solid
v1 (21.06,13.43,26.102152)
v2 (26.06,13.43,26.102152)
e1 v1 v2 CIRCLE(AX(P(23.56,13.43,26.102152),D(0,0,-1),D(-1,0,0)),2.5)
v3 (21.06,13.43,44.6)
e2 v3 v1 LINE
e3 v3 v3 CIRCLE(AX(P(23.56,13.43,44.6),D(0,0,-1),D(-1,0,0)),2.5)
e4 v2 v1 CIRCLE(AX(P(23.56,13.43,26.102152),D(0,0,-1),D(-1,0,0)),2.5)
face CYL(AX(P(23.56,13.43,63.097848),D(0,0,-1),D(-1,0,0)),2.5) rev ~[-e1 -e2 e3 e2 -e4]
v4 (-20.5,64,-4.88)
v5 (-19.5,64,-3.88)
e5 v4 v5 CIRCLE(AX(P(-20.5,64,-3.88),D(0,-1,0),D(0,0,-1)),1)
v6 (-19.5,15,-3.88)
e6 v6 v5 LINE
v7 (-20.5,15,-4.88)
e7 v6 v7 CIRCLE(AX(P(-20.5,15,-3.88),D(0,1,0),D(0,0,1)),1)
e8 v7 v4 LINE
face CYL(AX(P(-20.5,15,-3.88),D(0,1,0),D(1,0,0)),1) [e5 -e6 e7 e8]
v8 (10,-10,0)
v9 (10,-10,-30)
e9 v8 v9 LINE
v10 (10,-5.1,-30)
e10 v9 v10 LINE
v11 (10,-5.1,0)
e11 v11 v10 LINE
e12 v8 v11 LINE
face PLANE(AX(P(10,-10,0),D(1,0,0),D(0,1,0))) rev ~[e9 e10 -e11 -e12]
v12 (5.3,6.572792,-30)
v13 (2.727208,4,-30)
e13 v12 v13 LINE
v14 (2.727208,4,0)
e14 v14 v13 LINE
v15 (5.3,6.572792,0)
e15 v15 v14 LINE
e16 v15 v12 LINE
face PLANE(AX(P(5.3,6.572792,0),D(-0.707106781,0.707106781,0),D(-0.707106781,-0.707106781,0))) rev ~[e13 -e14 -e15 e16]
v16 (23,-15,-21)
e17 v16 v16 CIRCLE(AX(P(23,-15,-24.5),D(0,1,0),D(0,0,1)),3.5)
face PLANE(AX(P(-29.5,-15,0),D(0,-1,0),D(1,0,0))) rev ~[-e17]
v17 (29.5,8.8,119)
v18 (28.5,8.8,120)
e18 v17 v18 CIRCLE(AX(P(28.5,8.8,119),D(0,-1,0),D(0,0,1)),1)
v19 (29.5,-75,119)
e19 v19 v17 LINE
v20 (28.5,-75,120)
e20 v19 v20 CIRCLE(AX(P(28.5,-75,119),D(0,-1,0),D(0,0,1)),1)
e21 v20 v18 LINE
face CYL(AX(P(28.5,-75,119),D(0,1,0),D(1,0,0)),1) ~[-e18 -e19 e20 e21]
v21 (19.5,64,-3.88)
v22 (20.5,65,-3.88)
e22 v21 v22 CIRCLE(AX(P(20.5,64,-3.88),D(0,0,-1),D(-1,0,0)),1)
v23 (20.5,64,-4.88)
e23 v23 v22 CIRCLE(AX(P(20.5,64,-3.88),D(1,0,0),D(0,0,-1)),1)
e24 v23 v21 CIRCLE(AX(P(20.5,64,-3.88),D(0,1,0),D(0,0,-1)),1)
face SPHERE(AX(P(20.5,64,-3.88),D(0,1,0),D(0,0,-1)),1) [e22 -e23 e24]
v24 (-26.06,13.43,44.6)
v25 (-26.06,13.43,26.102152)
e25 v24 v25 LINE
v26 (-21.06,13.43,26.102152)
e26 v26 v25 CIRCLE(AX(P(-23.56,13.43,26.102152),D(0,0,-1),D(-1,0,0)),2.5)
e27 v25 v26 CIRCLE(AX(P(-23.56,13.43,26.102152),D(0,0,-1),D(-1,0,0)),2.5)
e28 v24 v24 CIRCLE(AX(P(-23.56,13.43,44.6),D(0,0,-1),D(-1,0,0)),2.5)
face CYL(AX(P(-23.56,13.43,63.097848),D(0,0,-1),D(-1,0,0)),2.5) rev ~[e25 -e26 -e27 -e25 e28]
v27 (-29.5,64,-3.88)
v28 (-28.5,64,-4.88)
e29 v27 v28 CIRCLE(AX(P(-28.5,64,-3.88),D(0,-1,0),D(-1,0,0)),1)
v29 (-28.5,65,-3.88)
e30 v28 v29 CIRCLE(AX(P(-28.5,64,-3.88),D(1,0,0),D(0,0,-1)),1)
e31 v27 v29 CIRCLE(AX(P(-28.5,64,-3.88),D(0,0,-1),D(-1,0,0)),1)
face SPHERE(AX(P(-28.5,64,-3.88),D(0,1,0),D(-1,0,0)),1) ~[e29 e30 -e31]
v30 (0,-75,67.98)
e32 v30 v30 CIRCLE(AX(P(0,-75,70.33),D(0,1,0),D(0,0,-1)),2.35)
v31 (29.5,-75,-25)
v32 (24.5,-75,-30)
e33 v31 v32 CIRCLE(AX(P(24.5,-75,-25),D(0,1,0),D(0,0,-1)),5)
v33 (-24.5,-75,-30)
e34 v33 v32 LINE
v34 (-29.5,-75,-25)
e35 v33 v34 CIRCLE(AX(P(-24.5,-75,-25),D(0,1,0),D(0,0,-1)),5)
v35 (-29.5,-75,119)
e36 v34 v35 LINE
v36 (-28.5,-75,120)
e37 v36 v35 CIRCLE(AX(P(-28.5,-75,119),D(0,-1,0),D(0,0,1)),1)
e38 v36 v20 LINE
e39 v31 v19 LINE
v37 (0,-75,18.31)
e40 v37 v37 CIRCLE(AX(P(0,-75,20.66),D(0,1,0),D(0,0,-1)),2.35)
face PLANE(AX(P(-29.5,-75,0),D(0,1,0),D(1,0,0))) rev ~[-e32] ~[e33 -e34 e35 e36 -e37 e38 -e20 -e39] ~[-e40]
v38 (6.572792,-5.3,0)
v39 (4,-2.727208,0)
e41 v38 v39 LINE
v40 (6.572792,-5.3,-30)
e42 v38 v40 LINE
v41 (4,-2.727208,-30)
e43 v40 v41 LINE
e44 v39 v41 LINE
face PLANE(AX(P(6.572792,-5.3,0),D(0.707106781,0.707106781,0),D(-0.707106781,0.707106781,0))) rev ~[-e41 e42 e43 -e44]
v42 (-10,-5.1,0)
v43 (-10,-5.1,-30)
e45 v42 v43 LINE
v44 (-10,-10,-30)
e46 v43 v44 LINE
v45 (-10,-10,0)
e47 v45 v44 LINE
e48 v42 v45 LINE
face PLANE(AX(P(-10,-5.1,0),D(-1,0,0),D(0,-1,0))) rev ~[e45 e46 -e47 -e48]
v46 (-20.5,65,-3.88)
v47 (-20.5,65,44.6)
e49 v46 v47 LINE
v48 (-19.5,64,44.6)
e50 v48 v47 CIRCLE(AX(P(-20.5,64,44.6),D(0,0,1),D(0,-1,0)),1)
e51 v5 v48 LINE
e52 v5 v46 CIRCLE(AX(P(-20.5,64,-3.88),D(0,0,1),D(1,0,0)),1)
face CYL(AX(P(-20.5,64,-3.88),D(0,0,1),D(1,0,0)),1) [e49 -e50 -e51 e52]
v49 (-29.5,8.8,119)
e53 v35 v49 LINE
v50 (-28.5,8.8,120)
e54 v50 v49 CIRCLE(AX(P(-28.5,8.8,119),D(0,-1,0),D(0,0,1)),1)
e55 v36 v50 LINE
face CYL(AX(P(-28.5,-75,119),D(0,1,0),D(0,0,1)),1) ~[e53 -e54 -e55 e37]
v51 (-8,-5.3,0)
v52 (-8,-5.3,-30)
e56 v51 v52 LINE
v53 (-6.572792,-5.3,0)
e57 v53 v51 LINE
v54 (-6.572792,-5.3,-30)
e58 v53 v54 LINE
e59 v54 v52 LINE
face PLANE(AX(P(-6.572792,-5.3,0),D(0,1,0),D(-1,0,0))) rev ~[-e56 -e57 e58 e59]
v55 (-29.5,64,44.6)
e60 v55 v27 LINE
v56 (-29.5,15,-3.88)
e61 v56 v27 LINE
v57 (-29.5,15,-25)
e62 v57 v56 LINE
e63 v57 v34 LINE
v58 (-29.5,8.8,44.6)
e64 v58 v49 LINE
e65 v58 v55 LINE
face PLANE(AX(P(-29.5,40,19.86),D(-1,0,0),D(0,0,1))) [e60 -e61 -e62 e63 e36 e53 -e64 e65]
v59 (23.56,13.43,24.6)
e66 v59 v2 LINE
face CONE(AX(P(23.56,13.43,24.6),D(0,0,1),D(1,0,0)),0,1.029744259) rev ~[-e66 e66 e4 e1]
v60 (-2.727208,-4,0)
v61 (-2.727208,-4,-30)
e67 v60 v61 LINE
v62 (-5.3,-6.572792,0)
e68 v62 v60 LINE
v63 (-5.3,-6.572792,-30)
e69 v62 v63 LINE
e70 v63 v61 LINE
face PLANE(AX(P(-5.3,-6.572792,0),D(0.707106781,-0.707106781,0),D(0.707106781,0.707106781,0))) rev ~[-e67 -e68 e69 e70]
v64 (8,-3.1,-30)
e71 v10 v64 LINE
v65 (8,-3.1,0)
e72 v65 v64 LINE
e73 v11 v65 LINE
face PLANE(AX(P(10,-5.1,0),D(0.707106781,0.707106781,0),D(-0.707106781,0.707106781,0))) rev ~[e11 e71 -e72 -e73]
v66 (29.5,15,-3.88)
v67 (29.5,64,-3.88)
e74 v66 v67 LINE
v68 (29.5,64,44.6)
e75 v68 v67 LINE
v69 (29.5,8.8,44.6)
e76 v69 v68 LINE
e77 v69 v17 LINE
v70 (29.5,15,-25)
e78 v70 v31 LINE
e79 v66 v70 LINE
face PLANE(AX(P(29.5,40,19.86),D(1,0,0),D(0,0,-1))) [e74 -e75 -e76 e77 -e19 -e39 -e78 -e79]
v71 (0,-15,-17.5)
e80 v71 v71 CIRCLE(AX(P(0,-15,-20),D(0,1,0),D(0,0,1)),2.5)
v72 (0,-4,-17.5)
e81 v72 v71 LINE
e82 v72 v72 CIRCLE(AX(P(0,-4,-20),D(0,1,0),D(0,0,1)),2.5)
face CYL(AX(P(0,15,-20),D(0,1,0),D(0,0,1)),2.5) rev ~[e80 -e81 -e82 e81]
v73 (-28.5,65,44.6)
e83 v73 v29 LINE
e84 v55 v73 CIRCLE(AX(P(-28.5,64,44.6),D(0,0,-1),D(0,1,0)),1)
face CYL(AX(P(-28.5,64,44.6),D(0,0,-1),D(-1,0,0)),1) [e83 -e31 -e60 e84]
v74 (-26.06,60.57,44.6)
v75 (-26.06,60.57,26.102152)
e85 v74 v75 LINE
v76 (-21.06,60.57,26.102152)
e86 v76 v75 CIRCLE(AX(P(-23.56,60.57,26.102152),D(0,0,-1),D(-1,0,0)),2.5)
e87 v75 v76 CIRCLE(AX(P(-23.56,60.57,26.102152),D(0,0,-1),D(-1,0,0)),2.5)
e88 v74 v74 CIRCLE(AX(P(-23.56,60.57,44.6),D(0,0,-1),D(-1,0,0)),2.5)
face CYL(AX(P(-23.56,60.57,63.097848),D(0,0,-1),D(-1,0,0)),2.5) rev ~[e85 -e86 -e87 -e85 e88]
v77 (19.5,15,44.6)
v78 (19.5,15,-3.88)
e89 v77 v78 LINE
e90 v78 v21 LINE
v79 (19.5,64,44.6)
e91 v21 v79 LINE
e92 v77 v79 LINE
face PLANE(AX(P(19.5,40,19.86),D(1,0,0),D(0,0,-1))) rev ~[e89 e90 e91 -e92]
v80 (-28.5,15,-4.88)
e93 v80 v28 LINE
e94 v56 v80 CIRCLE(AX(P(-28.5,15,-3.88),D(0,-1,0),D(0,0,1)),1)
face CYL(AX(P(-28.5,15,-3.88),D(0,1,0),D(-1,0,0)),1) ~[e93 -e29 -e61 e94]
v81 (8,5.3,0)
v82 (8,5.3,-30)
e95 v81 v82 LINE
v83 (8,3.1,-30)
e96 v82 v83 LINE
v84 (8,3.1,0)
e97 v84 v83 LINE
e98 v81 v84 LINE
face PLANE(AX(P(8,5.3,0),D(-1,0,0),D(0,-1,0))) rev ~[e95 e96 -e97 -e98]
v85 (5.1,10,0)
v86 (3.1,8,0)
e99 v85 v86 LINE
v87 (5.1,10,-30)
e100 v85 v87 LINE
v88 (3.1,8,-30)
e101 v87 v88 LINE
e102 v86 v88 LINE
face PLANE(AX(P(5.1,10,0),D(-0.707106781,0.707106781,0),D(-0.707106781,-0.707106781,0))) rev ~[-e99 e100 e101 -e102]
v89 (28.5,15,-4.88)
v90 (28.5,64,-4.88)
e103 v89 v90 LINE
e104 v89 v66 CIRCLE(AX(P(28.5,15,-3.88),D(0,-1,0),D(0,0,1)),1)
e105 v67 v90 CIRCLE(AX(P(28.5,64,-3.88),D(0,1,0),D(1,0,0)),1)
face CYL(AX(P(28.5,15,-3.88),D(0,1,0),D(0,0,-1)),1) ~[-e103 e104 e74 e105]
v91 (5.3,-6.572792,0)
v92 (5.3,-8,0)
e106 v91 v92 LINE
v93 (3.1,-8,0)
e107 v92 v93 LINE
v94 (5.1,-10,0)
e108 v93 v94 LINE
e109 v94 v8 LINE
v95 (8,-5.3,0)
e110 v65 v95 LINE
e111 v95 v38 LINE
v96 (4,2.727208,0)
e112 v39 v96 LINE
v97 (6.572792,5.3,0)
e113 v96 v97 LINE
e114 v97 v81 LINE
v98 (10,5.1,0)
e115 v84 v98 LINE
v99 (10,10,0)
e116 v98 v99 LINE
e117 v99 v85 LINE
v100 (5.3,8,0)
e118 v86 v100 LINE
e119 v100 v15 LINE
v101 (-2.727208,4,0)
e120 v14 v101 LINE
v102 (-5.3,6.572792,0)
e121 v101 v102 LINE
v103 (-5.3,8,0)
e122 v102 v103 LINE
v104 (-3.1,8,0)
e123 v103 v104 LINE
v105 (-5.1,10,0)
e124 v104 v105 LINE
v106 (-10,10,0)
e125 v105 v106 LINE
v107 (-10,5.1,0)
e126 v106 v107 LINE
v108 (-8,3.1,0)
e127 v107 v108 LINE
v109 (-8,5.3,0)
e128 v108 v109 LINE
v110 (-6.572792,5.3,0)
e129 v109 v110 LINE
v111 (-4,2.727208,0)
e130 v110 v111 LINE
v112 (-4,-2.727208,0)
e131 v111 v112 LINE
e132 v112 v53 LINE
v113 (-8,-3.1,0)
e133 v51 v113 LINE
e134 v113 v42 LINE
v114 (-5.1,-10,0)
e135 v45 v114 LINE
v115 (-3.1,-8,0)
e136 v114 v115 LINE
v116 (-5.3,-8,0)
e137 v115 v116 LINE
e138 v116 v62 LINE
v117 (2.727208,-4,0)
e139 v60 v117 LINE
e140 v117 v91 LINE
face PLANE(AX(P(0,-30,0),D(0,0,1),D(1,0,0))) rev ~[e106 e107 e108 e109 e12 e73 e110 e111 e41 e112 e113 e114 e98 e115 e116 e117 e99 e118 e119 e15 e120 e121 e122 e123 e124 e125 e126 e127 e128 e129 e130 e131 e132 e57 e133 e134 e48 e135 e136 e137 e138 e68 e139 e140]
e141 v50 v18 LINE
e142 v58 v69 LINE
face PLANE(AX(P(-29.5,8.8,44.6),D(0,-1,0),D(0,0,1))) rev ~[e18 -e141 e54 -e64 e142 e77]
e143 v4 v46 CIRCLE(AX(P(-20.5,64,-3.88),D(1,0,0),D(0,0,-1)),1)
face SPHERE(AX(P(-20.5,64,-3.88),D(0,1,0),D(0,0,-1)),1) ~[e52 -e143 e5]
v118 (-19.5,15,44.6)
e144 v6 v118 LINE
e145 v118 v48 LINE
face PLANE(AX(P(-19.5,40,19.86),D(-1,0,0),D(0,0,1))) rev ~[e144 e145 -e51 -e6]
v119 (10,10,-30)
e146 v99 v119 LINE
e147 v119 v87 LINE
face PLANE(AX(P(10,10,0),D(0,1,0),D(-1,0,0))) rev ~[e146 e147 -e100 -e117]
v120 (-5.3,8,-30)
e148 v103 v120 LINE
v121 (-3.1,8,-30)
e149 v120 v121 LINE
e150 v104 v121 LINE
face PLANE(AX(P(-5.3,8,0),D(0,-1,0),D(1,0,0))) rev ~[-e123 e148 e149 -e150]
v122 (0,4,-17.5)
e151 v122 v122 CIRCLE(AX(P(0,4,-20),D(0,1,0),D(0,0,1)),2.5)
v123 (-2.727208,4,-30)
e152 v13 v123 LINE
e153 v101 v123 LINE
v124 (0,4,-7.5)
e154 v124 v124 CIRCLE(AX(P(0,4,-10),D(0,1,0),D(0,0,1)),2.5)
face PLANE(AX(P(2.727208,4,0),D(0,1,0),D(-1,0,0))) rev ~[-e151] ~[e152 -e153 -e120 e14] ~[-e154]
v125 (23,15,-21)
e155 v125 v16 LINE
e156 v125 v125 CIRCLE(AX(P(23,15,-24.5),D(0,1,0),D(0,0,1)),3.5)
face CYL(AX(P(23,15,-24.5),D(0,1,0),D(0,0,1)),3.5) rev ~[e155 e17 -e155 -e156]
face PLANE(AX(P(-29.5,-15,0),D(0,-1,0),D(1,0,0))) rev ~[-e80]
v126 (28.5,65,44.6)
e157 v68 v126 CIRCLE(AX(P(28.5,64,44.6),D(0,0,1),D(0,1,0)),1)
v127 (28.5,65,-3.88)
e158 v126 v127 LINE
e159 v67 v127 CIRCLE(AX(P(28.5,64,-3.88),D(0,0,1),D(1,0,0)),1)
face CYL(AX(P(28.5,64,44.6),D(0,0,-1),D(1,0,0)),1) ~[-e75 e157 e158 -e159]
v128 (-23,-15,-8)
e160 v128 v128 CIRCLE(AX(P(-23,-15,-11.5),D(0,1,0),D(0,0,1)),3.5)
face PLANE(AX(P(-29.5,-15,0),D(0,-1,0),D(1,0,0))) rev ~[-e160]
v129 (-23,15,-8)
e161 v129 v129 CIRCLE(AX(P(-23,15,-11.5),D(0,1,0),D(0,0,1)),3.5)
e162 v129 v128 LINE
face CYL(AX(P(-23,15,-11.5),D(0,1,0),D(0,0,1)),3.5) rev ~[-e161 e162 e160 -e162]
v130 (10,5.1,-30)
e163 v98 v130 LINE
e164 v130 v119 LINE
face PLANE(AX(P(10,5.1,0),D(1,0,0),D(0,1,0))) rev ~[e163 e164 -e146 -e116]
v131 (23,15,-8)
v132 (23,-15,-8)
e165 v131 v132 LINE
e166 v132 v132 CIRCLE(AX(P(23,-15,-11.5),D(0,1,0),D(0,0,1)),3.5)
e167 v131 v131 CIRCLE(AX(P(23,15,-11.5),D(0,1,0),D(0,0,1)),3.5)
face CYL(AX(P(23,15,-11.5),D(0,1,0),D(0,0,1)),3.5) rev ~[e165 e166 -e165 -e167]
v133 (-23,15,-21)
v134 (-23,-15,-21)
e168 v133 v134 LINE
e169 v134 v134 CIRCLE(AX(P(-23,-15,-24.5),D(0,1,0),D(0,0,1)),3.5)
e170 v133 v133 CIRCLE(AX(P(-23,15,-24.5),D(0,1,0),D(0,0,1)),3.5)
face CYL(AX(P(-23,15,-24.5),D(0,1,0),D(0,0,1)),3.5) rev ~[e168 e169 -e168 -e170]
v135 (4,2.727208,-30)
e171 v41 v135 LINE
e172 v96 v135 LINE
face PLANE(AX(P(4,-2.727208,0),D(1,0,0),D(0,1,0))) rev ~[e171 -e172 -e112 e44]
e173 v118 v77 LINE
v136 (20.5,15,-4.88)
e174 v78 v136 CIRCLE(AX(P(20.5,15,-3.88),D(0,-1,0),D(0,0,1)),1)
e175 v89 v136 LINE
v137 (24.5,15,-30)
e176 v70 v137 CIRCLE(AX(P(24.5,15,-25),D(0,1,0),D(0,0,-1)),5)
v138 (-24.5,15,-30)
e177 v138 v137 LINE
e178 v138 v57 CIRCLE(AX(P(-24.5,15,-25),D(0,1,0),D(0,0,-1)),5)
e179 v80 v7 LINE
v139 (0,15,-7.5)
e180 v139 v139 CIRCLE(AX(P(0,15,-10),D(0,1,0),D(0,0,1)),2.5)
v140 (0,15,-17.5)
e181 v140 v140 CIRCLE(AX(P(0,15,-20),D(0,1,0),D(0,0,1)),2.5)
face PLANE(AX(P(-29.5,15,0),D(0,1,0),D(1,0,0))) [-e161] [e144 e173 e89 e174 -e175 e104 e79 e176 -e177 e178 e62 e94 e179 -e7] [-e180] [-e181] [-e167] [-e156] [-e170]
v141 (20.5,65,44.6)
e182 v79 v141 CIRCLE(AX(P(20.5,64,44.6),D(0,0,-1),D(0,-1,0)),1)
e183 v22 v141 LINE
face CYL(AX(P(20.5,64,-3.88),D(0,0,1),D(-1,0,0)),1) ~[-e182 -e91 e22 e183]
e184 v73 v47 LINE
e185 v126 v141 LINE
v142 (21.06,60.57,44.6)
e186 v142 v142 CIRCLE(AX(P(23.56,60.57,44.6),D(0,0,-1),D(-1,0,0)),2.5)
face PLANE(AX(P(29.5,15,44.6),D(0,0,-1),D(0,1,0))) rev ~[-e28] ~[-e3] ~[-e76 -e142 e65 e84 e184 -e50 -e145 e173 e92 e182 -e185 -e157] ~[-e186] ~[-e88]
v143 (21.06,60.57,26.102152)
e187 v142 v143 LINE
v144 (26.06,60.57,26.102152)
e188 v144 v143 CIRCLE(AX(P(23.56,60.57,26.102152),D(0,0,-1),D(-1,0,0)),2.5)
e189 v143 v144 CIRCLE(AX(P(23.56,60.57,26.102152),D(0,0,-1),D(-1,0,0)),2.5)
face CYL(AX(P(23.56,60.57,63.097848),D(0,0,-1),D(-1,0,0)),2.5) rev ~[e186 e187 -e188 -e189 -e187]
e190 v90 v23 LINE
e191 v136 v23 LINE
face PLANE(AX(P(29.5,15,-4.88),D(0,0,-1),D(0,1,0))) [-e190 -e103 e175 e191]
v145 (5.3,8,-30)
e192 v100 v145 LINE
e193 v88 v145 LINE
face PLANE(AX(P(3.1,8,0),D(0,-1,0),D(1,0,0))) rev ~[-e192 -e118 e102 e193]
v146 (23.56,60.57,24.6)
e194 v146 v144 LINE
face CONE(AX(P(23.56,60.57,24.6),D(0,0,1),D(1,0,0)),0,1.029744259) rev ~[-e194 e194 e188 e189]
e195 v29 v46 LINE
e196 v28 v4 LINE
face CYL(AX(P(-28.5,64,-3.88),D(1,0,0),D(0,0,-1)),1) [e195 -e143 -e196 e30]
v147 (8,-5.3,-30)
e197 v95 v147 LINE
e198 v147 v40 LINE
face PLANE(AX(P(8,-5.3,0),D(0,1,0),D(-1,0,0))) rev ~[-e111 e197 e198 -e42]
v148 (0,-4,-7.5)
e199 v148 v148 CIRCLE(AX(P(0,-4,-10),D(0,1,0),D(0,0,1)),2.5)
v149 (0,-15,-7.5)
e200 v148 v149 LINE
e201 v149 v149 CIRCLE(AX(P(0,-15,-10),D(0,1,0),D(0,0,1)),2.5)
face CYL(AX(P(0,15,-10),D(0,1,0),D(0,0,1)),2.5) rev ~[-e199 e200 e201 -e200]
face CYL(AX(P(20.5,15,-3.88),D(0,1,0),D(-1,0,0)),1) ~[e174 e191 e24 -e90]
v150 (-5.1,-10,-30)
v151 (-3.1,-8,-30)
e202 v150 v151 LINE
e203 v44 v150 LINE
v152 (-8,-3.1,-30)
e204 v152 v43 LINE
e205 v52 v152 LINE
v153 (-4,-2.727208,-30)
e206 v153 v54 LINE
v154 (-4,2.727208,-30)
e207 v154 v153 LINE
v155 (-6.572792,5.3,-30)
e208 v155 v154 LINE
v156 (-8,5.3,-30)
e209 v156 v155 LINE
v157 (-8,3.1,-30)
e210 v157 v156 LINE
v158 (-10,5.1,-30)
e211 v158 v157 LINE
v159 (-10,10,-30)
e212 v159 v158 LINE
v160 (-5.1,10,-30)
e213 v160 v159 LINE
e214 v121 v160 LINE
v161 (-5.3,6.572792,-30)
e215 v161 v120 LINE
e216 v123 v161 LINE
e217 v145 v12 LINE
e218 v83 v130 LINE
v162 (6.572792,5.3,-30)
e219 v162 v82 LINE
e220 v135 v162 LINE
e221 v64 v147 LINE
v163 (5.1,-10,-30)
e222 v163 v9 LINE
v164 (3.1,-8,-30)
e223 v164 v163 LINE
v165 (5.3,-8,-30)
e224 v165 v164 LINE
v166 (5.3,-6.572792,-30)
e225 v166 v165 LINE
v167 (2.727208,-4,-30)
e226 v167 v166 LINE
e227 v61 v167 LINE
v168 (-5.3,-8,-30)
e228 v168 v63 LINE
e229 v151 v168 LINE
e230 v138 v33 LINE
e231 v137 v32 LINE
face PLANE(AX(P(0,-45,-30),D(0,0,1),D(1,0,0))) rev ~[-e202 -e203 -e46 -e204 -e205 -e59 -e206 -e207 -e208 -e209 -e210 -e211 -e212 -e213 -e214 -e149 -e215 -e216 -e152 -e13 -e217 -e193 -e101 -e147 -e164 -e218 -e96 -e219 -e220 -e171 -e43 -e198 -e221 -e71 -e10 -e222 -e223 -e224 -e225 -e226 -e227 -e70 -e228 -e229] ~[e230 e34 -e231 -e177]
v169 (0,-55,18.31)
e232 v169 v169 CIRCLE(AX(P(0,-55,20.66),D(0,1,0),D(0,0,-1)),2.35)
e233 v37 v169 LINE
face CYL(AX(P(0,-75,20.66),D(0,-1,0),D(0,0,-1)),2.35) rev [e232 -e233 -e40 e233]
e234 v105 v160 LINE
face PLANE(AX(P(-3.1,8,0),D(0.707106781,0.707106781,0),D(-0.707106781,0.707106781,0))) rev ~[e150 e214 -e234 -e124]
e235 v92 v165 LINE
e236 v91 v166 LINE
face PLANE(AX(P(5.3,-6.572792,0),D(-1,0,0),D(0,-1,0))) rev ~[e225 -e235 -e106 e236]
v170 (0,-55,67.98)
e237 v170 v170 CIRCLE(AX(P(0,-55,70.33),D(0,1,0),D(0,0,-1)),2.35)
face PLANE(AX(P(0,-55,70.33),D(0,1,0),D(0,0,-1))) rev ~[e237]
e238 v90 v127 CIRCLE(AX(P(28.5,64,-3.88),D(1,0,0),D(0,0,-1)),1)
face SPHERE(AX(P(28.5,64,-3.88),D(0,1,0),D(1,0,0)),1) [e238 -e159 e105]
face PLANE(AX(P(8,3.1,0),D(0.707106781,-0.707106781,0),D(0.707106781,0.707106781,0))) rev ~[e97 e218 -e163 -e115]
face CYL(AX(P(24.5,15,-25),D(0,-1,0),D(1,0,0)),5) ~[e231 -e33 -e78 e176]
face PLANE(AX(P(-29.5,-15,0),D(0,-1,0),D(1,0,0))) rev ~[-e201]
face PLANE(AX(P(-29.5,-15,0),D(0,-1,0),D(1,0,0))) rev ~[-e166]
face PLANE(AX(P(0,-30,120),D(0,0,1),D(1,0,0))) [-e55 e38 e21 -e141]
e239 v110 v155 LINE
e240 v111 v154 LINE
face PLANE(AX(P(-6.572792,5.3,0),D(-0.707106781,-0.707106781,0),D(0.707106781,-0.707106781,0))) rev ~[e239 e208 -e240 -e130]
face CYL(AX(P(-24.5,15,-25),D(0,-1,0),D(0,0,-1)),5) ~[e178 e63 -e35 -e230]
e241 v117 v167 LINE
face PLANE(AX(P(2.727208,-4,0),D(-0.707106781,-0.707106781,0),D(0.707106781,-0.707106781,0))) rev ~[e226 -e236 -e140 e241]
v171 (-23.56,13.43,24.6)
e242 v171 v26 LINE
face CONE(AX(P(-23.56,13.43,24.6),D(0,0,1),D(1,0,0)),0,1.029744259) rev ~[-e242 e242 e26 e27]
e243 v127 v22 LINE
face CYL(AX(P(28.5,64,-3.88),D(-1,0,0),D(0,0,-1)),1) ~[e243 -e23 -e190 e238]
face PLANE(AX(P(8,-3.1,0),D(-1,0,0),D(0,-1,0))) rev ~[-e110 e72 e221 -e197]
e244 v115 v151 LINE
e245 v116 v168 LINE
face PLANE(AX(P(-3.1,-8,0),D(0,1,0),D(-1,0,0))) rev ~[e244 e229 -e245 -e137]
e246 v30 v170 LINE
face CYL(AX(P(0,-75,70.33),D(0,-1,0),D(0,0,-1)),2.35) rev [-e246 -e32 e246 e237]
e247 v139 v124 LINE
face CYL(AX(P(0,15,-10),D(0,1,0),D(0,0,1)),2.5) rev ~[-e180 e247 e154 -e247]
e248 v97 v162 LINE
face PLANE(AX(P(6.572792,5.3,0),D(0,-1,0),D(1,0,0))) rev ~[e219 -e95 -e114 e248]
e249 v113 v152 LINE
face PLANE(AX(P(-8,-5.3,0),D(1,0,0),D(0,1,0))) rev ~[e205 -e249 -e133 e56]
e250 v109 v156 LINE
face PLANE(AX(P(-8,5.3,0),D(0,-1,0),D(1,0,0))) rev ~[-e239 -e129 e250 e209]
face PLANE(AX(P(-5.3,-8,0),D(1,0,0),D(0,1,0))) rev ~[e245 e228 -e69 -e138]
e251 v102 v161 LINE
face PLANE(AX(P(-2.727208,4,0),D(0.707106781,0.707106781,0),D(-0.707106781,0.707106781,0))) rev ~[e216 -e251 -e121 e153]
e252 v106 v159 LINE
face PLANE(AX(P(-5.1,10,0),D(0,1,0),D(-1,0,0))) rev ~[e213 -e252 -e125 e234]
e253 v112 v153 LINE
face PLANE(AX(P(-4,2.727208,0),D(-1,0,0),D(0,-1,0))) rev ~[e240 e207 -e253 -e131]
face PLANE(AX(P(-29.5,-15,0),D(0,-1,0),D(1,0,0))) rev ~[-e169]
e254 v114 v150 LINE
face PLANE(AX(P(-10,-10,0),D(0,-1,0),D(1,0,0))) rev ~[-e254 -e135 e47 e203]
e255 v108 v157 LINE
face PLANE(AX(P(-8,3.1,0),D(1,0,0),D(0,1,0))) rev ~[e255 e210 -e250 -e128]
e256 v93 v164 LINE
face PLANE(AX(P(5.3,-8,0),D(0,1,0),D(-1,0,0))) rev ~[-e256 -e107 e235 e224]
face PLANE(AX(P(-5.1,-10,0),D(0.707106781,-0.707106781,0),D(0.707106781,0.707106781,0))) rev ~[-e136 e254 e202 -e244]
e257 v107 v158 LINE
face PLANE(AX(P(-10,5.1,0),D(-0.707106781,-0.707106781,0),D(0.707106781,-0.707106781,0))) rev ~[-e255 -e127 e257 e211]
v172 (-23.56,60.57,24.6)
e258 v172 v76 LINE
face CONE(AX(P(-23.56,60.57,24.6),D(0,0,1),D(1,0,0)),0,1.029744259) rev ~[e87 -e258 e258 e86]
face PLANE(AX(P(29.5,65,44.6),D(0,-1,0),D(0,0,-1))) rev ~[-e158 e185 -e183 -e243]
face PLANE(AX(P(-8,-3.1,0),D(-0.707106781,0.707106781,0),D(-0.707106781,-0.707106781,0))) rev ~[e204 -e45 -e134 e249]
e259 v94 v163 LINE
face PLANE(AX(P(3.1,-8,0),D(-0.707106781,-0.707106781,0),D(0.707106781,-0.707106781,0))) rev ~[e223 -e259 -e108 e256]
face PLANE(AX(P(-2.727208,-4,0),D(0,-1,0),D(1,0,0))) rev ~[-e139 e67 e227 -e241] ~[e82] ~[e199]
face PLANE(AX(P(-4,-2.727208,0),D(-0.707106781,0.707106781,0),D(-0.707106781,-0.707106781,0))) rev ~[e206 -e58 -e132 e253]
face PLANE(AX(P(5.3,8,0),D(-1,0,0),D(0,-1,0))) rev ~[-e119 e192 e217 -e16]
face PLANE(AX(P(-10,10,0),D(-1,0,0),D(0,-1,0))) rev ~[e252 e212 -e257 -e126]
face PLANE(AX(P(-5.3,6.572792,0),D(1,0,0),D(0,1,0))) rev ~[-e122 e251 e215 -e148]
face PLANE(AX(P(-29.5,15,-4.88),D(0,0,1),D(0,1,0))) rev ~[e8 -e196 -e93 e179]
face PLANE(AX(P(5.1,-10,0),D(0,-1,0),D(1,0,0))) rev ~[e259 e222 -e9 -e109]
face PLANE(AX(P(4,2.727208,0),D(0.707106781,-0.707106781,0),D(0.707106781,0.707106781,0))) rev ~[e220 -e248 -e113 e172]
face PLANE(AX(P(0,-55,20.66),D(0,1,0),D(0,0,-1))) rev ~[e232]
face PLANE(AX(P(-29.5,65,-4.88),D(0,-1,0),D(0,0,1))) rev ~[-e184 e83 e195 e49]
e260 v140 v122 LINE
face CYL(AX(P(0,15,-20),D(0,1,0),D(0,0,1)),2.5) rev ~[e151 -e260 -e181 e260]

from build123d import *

# Parameters (mm, degrees)
SKETCH1_W                    = 59
SKETCH1_H                    = 30
BOSS_EXTRUDE1_DEPTH          = 30
SKETCH2_R                    = 2.5
SKETCH2_R_2                  = 3.5
CUT_EXTRUDE1_DEPTH           = 52.674461778
SKETCH3_W                    = 59
SKETCH3_H                    = 60
BOSS_EXTRUDE2_DEPTH          = 30
FILLET2_R                    = 5
FILLET3_R                    = 5
SKETCH5_W                    = 59
SKETCH5_H                    = 90
BOSS_EXTRUDE3_DEPTH          = 120
SKETCH6_W                    = 75.4
SKETCH6_H                    = 6.2
CUT_EXTRUDE2_DEPTH           = 120
SKETCH6_3_W                  = 49.48
SKETCH6_3_H                  = 50
BOSS_EXTRUDE4_DEPTH          = 10
F_5_0_5_DIAMETER_HOLE1_D     = 5
F_5_0_5_DIAMETER_HOLE1_DEPTH = 18.497848452
F_5_0_5_DIAMETER_HOLE1_TIP   = 1.502151548
SKETCH14_W                   = 49.48
SKETCH14_H                   = 50
BOSS_EXTRUDE6_DEPTH          = 10
F_5_0_5_DIAMETER_HOLE2_D     = 5
F_5_0_5_DIAMETER_HOLE2_DEPTH = 18.497848452
F_5_0_5_DIAMETER_HOLE2_TIP   = 1.502151548
FILLET4_R                    = 1
FILLET5_R                    = 1
FILLET6_R                    = 1
FILLET7_R                    = 1
FILLET8_R                    = 1
FILLET9_R                    = 1
FILLET10_R                   = 1
FILLET11_R                   = 1
F_5_0_5_DIAMETER_HOLE3_D     = 5
F_5_0_5_DIAMETER_HOLE3_DEPTH = 18.497848452
F_5_0_5_DIAMETER_HOLE3_TIP   = 1.502151548
CUT_EXTRUDE3_START           = -75
SKETCH21_R                   = 2.35
CUT_EXTRUDE3_DEPTH           = 20


with BuildPart() as part:
    # Sketch1 → Boss-Extrude1 (new body)
    with BuildSketch(Plane.XY):
        Rectangle(SKETCH1_W, SKETCH1_H)
        Polygon((4, 2.727207794), (6.572792206, 5.3), (8, 5.3), (8, 3.1), (10, 5.1), (10, 10), (5.1, 10), (3.1, 8), (5.3, 8), (5.3, 6.572792206), (2.727207794, 4), (-2.727207794, 4), (-5.3, 6.572792206), (-5.3, 8), (-3.1, 8), (-5.1, 10), (-10, 10), (-10, 5.1), (-8, 3.1), (-8, 5.3), (-6.572792206, 5.3), (-4, 2.727207794), (-4, -2.727207794), (-6.572792206, -5.3), (-8, -5.3), (-8, -3.1), (-10, -5.1), (-10, -10), (-5.1, -10), (-3.1, -8), (-5.3, -8), (-5.3, -6.572792206), (-2.727207794, -4), (2.727207794, -4), (5.3, -6.572792206), (5.3, -8), (3.1, -8), (5.1, -10), (10, -10), (10, -5.1), (8, -3.1), (8, -5.3), (6.572792206, -5.3), (4, -2.727207794), align=None, mode=Mode.SUBTRACT)
    extrude(amount=-BOSS_EXTRUDE1_DEPTH)

    # Sketch2 → Cut-Extrude1 (cut, through all)
    with BuildSketch(Plane(origin=(0, 15, 0), x_dir=(1, 0, 0), z_dir=(0, 1, 0))):
        with Locations(Location((0, 10, 0), (0, 0, 270))):
            Circle(SKETCH2_R)
        with Locations(Location((0, 20, 0), (0, 0, 270))):
            Circle(SKETCH2_R)
        with Locations(Location((-23, 24.5, 0), (0, 0, 270))):
            Circle(SKETCH2_R_2)
        with Locations(Location((23, 24.5, 0), (0, 0, 270))):
            Circle(SKETCH2_R_2)
        with Locations(Location((23, 11.5, 0), (0, 0, 270))):
            Circle(SKETCH2_R_2)
        with Locations(Location((-23, 11.5, 0), (0, 0, 270))):
            Circle(SKETCH2_R_2)
    extrude(amount=-CUT_EXTRUDE1_DEPTH, mode=Mode.SUBTRACT)

    # Sketch3 → Boss-Extrude2 (add)
    with BuildSketch(Plane.XY):
        with Locations((0, -45)):
            Rectangle(SKETCH3_W, SKETCH3_H)
    extrude(amount=-BOSS_EXTRUDE2_DEPTH)

    # Fillet2
    fillet2_edges = [part.edges().sort_by_distance(p)[0] for p in [
        (29.5, -30, -30),
    ]]
    fillet(fillet2_edges, radius=FILLET2_R)

    # Fillet3
    fillet3_edges = [part.edges().sort_by_distance(p)[0] for p in [
        (-29.5, -30, -30),
    ]]
    fillet(fillet3_edges, radius=FILLET3_R)

    # Sketch5 → Boss-Extrude3 (add)
    with BuildSketch(Plane.XY):
        with Locations((0, -30)):
            Rectangle(SKETCH5_W, SKETCH5_H)
    extrude(amount=BOSS_EXTRUDE3_DEPTH)

    # Sketch6 → Cut-Extrude2 (cut)
    with BuildSketch(Plane.ZY.offset(29.5)):
        with Locations((82.3, 11.9)):
            Rectangle(SKETCH6_W, SKETCH6_H)
    extrude(amount=-CUT_EXTRUDE2_DEPTH, mode=Mode.SUBTRACT)

    # Sketch6<3> → Boss-Extrude4 (add)
    with BuildSketch(Plane.ZY.offset(29.5)):
        with Locations((19.86, 40)):
            Rectangle(SKETCH6_3_W, SKETCH6_3_H)
    extrude(amount=-BOSS_EXTRUDE4_DEPTH)

    # Ø5.0 (5) Diameter Hole1
    with Locations(Plane.XY.offset(44.6)):
        with Locations((-23.56, 60.57)):
            Hole(F_5_0_5_DIAMETER_HOLE1_D / 2, depth=F_5_0_5_DIAMETER_HOLE1_DEPTH)
            with Locations((0, 0, -(F_5_0_5_DIAMETER_HOLE1_DEPTH + F_5_0_5_DIAMETER_HOLE1_TIP / 2))):  # 118° drill point
                Cone(0, F_5_0_5_DIAMETER_HOLE1_D / 2, F_5_0_5_DIAMETER_HOLE1_TIP, mode=Mode.SUBTRACT)

    # Sketch14 → Boss-Extrude6 (add)
    with BuildSketch(Plane(origin=(29.5, 0, 0), x_dir=(0, 0, -1), z_dir=(1, 0, 0))):
        with Locations((-19.86, 40)):
            Rectangle(SKETCH14_W, SKETCH14_H)
    extrude(amount=-BOSS_EXTRUDE6_DEPTH)

    # Ø5.0 (5) Diameter Hole2
    with Locations(Plane.XY.offset(44.6)):
        with Locations((23.56, 60.57)):
            Hole(F_5_0_5_DIAMETER_HOLE2_D / 2, depth=F_5_0_5_DIAMETER_HOLE2_DEPTH)
            with Locations((0, 0, -(F_5_0_5_DIAMETER_HOLE2_DEPTH + F_5_0_5_DIAMETER_HOLE2_TIP / 2))):  # 118° drill point
                Cone(0, F_5_0_5_DIAMETER_HOLE2_D / 2, F_5_0_5_DIAMETER_HOLE2_TIP, mode=Mode.SUBTRACT)

    # Fillet4
    fillet4_edges = [part.edges().sort_by_distance(p)[0] for p in [
        (-29.5, 40, -4.88),
    ]]
    fillet(fillet4_edges, radius=FILLET4_R)

    # Fillet5
    fillet5_edges = [part.edges().sort_by_distance(p)[0] for p in [
        (-19.5, 40, -4.88),
    ]]
    fillet(fillet5_edges, radius=FILLET5_R)

    # Fillet6
    fillet6_edges = [part.edges().sort_by_distance(p)[0] for p in [
        (29.5, 40, -4.88),
    ]]
    fillet(fillet6_edges, radius=FILLET6_R)

    # Fillet7
    fillet7_edges = [part.edges().sort_by_distance(p)[0] for p in [
        (19.5, 40, -4.88),
    ]]
    fillet(fillet7_edges, radius=FILLET7_R)

    # Fillet8
    fillet8_edges = [part.edges().sort_by_distance(p)[0] for p in [
        (-19.5, 65, 20.36),
        (-29.5, 65, 20.36),
        (-29.207106781, 65, -4.587106781),
        (-24.5, 65, -4.88),
        (-19.792893219, 65, -4.587106781),
    ]]
    fillet(fillet8_edges, radius=FILLET8_R)

    # Fillet9
    fillet9_edges = [part.edges().sort_by_distance(p)[0] for p in [
        (29.5, 65, 20.36),
        (29.207106781, 65, -4.587106781),
        (19.5, 65, 20.36),
        (24.5, 65, -4.88),
        (19.792893219, 65, -4.587106781),
    ]]
    fillet(fillet9_edges, radius=FILLET9_R)

    # Fillet10
    fillet10_edges = [part.edges().sort_by_distance(p)[0] for p in [
        (29.5, -33.1, 120),
    ]]
    fillet(fillet10_edges, radius=FILLET10_R)

    # Fillet11
    fillet11_edges = [part.edges().sort_by_distance(p)[0] for p in [
        (-29.5, -33.1, 120),
    ]]
    fillet(fillet11_edges, radius=FILLET11_R)

    # Ø5.0 (5) Diameter Hole3
    with Locations(Plane.XY.offset(44.6)):
        with Locations((-23.56, 13.43), (23.56, 13.43)):
            Hole(F_5_0_5_DIAMETER_HOLE3_D / 2, depth=F_5_0_5_DIAMETER_HOLE3_DEPTH)
            with Locations((0, 0, -(F_5_0_5_DIAMETER_HOLE3_DEPTH + F_5_0_5_DIAMETER_HOLE3_TIP / 2))):  # 118° drill point
                Cone(0, F_5_0_5_DIAMETER_HOLE3_D / 2, F_5_0_5_DIAMETER_HOLE3_TIP, mode=Mode.SUBTRACT)

    # Sketch21 → Cut-Extrude3 (cut)
    with BuildSketch(Plane(origin=(0, 0, 0), x_dir=(1, 0, 0), z_dir=(0, 1, 0)).offset(CUT_EXTRUDE3_START)):
        with Locations(Location((0, -70.33, 0), (0, 0, 90))):
            Circle(SKETCH21_R)
        with Locations(Location((0, -20.66, 0), (0, 0, 90))):
            Circle(SKETCH21_R)
    extrude(amount=CUT_EXTRUDE3_DEPTH, mode=Mode.SUBTRACT)


solid = part.part
